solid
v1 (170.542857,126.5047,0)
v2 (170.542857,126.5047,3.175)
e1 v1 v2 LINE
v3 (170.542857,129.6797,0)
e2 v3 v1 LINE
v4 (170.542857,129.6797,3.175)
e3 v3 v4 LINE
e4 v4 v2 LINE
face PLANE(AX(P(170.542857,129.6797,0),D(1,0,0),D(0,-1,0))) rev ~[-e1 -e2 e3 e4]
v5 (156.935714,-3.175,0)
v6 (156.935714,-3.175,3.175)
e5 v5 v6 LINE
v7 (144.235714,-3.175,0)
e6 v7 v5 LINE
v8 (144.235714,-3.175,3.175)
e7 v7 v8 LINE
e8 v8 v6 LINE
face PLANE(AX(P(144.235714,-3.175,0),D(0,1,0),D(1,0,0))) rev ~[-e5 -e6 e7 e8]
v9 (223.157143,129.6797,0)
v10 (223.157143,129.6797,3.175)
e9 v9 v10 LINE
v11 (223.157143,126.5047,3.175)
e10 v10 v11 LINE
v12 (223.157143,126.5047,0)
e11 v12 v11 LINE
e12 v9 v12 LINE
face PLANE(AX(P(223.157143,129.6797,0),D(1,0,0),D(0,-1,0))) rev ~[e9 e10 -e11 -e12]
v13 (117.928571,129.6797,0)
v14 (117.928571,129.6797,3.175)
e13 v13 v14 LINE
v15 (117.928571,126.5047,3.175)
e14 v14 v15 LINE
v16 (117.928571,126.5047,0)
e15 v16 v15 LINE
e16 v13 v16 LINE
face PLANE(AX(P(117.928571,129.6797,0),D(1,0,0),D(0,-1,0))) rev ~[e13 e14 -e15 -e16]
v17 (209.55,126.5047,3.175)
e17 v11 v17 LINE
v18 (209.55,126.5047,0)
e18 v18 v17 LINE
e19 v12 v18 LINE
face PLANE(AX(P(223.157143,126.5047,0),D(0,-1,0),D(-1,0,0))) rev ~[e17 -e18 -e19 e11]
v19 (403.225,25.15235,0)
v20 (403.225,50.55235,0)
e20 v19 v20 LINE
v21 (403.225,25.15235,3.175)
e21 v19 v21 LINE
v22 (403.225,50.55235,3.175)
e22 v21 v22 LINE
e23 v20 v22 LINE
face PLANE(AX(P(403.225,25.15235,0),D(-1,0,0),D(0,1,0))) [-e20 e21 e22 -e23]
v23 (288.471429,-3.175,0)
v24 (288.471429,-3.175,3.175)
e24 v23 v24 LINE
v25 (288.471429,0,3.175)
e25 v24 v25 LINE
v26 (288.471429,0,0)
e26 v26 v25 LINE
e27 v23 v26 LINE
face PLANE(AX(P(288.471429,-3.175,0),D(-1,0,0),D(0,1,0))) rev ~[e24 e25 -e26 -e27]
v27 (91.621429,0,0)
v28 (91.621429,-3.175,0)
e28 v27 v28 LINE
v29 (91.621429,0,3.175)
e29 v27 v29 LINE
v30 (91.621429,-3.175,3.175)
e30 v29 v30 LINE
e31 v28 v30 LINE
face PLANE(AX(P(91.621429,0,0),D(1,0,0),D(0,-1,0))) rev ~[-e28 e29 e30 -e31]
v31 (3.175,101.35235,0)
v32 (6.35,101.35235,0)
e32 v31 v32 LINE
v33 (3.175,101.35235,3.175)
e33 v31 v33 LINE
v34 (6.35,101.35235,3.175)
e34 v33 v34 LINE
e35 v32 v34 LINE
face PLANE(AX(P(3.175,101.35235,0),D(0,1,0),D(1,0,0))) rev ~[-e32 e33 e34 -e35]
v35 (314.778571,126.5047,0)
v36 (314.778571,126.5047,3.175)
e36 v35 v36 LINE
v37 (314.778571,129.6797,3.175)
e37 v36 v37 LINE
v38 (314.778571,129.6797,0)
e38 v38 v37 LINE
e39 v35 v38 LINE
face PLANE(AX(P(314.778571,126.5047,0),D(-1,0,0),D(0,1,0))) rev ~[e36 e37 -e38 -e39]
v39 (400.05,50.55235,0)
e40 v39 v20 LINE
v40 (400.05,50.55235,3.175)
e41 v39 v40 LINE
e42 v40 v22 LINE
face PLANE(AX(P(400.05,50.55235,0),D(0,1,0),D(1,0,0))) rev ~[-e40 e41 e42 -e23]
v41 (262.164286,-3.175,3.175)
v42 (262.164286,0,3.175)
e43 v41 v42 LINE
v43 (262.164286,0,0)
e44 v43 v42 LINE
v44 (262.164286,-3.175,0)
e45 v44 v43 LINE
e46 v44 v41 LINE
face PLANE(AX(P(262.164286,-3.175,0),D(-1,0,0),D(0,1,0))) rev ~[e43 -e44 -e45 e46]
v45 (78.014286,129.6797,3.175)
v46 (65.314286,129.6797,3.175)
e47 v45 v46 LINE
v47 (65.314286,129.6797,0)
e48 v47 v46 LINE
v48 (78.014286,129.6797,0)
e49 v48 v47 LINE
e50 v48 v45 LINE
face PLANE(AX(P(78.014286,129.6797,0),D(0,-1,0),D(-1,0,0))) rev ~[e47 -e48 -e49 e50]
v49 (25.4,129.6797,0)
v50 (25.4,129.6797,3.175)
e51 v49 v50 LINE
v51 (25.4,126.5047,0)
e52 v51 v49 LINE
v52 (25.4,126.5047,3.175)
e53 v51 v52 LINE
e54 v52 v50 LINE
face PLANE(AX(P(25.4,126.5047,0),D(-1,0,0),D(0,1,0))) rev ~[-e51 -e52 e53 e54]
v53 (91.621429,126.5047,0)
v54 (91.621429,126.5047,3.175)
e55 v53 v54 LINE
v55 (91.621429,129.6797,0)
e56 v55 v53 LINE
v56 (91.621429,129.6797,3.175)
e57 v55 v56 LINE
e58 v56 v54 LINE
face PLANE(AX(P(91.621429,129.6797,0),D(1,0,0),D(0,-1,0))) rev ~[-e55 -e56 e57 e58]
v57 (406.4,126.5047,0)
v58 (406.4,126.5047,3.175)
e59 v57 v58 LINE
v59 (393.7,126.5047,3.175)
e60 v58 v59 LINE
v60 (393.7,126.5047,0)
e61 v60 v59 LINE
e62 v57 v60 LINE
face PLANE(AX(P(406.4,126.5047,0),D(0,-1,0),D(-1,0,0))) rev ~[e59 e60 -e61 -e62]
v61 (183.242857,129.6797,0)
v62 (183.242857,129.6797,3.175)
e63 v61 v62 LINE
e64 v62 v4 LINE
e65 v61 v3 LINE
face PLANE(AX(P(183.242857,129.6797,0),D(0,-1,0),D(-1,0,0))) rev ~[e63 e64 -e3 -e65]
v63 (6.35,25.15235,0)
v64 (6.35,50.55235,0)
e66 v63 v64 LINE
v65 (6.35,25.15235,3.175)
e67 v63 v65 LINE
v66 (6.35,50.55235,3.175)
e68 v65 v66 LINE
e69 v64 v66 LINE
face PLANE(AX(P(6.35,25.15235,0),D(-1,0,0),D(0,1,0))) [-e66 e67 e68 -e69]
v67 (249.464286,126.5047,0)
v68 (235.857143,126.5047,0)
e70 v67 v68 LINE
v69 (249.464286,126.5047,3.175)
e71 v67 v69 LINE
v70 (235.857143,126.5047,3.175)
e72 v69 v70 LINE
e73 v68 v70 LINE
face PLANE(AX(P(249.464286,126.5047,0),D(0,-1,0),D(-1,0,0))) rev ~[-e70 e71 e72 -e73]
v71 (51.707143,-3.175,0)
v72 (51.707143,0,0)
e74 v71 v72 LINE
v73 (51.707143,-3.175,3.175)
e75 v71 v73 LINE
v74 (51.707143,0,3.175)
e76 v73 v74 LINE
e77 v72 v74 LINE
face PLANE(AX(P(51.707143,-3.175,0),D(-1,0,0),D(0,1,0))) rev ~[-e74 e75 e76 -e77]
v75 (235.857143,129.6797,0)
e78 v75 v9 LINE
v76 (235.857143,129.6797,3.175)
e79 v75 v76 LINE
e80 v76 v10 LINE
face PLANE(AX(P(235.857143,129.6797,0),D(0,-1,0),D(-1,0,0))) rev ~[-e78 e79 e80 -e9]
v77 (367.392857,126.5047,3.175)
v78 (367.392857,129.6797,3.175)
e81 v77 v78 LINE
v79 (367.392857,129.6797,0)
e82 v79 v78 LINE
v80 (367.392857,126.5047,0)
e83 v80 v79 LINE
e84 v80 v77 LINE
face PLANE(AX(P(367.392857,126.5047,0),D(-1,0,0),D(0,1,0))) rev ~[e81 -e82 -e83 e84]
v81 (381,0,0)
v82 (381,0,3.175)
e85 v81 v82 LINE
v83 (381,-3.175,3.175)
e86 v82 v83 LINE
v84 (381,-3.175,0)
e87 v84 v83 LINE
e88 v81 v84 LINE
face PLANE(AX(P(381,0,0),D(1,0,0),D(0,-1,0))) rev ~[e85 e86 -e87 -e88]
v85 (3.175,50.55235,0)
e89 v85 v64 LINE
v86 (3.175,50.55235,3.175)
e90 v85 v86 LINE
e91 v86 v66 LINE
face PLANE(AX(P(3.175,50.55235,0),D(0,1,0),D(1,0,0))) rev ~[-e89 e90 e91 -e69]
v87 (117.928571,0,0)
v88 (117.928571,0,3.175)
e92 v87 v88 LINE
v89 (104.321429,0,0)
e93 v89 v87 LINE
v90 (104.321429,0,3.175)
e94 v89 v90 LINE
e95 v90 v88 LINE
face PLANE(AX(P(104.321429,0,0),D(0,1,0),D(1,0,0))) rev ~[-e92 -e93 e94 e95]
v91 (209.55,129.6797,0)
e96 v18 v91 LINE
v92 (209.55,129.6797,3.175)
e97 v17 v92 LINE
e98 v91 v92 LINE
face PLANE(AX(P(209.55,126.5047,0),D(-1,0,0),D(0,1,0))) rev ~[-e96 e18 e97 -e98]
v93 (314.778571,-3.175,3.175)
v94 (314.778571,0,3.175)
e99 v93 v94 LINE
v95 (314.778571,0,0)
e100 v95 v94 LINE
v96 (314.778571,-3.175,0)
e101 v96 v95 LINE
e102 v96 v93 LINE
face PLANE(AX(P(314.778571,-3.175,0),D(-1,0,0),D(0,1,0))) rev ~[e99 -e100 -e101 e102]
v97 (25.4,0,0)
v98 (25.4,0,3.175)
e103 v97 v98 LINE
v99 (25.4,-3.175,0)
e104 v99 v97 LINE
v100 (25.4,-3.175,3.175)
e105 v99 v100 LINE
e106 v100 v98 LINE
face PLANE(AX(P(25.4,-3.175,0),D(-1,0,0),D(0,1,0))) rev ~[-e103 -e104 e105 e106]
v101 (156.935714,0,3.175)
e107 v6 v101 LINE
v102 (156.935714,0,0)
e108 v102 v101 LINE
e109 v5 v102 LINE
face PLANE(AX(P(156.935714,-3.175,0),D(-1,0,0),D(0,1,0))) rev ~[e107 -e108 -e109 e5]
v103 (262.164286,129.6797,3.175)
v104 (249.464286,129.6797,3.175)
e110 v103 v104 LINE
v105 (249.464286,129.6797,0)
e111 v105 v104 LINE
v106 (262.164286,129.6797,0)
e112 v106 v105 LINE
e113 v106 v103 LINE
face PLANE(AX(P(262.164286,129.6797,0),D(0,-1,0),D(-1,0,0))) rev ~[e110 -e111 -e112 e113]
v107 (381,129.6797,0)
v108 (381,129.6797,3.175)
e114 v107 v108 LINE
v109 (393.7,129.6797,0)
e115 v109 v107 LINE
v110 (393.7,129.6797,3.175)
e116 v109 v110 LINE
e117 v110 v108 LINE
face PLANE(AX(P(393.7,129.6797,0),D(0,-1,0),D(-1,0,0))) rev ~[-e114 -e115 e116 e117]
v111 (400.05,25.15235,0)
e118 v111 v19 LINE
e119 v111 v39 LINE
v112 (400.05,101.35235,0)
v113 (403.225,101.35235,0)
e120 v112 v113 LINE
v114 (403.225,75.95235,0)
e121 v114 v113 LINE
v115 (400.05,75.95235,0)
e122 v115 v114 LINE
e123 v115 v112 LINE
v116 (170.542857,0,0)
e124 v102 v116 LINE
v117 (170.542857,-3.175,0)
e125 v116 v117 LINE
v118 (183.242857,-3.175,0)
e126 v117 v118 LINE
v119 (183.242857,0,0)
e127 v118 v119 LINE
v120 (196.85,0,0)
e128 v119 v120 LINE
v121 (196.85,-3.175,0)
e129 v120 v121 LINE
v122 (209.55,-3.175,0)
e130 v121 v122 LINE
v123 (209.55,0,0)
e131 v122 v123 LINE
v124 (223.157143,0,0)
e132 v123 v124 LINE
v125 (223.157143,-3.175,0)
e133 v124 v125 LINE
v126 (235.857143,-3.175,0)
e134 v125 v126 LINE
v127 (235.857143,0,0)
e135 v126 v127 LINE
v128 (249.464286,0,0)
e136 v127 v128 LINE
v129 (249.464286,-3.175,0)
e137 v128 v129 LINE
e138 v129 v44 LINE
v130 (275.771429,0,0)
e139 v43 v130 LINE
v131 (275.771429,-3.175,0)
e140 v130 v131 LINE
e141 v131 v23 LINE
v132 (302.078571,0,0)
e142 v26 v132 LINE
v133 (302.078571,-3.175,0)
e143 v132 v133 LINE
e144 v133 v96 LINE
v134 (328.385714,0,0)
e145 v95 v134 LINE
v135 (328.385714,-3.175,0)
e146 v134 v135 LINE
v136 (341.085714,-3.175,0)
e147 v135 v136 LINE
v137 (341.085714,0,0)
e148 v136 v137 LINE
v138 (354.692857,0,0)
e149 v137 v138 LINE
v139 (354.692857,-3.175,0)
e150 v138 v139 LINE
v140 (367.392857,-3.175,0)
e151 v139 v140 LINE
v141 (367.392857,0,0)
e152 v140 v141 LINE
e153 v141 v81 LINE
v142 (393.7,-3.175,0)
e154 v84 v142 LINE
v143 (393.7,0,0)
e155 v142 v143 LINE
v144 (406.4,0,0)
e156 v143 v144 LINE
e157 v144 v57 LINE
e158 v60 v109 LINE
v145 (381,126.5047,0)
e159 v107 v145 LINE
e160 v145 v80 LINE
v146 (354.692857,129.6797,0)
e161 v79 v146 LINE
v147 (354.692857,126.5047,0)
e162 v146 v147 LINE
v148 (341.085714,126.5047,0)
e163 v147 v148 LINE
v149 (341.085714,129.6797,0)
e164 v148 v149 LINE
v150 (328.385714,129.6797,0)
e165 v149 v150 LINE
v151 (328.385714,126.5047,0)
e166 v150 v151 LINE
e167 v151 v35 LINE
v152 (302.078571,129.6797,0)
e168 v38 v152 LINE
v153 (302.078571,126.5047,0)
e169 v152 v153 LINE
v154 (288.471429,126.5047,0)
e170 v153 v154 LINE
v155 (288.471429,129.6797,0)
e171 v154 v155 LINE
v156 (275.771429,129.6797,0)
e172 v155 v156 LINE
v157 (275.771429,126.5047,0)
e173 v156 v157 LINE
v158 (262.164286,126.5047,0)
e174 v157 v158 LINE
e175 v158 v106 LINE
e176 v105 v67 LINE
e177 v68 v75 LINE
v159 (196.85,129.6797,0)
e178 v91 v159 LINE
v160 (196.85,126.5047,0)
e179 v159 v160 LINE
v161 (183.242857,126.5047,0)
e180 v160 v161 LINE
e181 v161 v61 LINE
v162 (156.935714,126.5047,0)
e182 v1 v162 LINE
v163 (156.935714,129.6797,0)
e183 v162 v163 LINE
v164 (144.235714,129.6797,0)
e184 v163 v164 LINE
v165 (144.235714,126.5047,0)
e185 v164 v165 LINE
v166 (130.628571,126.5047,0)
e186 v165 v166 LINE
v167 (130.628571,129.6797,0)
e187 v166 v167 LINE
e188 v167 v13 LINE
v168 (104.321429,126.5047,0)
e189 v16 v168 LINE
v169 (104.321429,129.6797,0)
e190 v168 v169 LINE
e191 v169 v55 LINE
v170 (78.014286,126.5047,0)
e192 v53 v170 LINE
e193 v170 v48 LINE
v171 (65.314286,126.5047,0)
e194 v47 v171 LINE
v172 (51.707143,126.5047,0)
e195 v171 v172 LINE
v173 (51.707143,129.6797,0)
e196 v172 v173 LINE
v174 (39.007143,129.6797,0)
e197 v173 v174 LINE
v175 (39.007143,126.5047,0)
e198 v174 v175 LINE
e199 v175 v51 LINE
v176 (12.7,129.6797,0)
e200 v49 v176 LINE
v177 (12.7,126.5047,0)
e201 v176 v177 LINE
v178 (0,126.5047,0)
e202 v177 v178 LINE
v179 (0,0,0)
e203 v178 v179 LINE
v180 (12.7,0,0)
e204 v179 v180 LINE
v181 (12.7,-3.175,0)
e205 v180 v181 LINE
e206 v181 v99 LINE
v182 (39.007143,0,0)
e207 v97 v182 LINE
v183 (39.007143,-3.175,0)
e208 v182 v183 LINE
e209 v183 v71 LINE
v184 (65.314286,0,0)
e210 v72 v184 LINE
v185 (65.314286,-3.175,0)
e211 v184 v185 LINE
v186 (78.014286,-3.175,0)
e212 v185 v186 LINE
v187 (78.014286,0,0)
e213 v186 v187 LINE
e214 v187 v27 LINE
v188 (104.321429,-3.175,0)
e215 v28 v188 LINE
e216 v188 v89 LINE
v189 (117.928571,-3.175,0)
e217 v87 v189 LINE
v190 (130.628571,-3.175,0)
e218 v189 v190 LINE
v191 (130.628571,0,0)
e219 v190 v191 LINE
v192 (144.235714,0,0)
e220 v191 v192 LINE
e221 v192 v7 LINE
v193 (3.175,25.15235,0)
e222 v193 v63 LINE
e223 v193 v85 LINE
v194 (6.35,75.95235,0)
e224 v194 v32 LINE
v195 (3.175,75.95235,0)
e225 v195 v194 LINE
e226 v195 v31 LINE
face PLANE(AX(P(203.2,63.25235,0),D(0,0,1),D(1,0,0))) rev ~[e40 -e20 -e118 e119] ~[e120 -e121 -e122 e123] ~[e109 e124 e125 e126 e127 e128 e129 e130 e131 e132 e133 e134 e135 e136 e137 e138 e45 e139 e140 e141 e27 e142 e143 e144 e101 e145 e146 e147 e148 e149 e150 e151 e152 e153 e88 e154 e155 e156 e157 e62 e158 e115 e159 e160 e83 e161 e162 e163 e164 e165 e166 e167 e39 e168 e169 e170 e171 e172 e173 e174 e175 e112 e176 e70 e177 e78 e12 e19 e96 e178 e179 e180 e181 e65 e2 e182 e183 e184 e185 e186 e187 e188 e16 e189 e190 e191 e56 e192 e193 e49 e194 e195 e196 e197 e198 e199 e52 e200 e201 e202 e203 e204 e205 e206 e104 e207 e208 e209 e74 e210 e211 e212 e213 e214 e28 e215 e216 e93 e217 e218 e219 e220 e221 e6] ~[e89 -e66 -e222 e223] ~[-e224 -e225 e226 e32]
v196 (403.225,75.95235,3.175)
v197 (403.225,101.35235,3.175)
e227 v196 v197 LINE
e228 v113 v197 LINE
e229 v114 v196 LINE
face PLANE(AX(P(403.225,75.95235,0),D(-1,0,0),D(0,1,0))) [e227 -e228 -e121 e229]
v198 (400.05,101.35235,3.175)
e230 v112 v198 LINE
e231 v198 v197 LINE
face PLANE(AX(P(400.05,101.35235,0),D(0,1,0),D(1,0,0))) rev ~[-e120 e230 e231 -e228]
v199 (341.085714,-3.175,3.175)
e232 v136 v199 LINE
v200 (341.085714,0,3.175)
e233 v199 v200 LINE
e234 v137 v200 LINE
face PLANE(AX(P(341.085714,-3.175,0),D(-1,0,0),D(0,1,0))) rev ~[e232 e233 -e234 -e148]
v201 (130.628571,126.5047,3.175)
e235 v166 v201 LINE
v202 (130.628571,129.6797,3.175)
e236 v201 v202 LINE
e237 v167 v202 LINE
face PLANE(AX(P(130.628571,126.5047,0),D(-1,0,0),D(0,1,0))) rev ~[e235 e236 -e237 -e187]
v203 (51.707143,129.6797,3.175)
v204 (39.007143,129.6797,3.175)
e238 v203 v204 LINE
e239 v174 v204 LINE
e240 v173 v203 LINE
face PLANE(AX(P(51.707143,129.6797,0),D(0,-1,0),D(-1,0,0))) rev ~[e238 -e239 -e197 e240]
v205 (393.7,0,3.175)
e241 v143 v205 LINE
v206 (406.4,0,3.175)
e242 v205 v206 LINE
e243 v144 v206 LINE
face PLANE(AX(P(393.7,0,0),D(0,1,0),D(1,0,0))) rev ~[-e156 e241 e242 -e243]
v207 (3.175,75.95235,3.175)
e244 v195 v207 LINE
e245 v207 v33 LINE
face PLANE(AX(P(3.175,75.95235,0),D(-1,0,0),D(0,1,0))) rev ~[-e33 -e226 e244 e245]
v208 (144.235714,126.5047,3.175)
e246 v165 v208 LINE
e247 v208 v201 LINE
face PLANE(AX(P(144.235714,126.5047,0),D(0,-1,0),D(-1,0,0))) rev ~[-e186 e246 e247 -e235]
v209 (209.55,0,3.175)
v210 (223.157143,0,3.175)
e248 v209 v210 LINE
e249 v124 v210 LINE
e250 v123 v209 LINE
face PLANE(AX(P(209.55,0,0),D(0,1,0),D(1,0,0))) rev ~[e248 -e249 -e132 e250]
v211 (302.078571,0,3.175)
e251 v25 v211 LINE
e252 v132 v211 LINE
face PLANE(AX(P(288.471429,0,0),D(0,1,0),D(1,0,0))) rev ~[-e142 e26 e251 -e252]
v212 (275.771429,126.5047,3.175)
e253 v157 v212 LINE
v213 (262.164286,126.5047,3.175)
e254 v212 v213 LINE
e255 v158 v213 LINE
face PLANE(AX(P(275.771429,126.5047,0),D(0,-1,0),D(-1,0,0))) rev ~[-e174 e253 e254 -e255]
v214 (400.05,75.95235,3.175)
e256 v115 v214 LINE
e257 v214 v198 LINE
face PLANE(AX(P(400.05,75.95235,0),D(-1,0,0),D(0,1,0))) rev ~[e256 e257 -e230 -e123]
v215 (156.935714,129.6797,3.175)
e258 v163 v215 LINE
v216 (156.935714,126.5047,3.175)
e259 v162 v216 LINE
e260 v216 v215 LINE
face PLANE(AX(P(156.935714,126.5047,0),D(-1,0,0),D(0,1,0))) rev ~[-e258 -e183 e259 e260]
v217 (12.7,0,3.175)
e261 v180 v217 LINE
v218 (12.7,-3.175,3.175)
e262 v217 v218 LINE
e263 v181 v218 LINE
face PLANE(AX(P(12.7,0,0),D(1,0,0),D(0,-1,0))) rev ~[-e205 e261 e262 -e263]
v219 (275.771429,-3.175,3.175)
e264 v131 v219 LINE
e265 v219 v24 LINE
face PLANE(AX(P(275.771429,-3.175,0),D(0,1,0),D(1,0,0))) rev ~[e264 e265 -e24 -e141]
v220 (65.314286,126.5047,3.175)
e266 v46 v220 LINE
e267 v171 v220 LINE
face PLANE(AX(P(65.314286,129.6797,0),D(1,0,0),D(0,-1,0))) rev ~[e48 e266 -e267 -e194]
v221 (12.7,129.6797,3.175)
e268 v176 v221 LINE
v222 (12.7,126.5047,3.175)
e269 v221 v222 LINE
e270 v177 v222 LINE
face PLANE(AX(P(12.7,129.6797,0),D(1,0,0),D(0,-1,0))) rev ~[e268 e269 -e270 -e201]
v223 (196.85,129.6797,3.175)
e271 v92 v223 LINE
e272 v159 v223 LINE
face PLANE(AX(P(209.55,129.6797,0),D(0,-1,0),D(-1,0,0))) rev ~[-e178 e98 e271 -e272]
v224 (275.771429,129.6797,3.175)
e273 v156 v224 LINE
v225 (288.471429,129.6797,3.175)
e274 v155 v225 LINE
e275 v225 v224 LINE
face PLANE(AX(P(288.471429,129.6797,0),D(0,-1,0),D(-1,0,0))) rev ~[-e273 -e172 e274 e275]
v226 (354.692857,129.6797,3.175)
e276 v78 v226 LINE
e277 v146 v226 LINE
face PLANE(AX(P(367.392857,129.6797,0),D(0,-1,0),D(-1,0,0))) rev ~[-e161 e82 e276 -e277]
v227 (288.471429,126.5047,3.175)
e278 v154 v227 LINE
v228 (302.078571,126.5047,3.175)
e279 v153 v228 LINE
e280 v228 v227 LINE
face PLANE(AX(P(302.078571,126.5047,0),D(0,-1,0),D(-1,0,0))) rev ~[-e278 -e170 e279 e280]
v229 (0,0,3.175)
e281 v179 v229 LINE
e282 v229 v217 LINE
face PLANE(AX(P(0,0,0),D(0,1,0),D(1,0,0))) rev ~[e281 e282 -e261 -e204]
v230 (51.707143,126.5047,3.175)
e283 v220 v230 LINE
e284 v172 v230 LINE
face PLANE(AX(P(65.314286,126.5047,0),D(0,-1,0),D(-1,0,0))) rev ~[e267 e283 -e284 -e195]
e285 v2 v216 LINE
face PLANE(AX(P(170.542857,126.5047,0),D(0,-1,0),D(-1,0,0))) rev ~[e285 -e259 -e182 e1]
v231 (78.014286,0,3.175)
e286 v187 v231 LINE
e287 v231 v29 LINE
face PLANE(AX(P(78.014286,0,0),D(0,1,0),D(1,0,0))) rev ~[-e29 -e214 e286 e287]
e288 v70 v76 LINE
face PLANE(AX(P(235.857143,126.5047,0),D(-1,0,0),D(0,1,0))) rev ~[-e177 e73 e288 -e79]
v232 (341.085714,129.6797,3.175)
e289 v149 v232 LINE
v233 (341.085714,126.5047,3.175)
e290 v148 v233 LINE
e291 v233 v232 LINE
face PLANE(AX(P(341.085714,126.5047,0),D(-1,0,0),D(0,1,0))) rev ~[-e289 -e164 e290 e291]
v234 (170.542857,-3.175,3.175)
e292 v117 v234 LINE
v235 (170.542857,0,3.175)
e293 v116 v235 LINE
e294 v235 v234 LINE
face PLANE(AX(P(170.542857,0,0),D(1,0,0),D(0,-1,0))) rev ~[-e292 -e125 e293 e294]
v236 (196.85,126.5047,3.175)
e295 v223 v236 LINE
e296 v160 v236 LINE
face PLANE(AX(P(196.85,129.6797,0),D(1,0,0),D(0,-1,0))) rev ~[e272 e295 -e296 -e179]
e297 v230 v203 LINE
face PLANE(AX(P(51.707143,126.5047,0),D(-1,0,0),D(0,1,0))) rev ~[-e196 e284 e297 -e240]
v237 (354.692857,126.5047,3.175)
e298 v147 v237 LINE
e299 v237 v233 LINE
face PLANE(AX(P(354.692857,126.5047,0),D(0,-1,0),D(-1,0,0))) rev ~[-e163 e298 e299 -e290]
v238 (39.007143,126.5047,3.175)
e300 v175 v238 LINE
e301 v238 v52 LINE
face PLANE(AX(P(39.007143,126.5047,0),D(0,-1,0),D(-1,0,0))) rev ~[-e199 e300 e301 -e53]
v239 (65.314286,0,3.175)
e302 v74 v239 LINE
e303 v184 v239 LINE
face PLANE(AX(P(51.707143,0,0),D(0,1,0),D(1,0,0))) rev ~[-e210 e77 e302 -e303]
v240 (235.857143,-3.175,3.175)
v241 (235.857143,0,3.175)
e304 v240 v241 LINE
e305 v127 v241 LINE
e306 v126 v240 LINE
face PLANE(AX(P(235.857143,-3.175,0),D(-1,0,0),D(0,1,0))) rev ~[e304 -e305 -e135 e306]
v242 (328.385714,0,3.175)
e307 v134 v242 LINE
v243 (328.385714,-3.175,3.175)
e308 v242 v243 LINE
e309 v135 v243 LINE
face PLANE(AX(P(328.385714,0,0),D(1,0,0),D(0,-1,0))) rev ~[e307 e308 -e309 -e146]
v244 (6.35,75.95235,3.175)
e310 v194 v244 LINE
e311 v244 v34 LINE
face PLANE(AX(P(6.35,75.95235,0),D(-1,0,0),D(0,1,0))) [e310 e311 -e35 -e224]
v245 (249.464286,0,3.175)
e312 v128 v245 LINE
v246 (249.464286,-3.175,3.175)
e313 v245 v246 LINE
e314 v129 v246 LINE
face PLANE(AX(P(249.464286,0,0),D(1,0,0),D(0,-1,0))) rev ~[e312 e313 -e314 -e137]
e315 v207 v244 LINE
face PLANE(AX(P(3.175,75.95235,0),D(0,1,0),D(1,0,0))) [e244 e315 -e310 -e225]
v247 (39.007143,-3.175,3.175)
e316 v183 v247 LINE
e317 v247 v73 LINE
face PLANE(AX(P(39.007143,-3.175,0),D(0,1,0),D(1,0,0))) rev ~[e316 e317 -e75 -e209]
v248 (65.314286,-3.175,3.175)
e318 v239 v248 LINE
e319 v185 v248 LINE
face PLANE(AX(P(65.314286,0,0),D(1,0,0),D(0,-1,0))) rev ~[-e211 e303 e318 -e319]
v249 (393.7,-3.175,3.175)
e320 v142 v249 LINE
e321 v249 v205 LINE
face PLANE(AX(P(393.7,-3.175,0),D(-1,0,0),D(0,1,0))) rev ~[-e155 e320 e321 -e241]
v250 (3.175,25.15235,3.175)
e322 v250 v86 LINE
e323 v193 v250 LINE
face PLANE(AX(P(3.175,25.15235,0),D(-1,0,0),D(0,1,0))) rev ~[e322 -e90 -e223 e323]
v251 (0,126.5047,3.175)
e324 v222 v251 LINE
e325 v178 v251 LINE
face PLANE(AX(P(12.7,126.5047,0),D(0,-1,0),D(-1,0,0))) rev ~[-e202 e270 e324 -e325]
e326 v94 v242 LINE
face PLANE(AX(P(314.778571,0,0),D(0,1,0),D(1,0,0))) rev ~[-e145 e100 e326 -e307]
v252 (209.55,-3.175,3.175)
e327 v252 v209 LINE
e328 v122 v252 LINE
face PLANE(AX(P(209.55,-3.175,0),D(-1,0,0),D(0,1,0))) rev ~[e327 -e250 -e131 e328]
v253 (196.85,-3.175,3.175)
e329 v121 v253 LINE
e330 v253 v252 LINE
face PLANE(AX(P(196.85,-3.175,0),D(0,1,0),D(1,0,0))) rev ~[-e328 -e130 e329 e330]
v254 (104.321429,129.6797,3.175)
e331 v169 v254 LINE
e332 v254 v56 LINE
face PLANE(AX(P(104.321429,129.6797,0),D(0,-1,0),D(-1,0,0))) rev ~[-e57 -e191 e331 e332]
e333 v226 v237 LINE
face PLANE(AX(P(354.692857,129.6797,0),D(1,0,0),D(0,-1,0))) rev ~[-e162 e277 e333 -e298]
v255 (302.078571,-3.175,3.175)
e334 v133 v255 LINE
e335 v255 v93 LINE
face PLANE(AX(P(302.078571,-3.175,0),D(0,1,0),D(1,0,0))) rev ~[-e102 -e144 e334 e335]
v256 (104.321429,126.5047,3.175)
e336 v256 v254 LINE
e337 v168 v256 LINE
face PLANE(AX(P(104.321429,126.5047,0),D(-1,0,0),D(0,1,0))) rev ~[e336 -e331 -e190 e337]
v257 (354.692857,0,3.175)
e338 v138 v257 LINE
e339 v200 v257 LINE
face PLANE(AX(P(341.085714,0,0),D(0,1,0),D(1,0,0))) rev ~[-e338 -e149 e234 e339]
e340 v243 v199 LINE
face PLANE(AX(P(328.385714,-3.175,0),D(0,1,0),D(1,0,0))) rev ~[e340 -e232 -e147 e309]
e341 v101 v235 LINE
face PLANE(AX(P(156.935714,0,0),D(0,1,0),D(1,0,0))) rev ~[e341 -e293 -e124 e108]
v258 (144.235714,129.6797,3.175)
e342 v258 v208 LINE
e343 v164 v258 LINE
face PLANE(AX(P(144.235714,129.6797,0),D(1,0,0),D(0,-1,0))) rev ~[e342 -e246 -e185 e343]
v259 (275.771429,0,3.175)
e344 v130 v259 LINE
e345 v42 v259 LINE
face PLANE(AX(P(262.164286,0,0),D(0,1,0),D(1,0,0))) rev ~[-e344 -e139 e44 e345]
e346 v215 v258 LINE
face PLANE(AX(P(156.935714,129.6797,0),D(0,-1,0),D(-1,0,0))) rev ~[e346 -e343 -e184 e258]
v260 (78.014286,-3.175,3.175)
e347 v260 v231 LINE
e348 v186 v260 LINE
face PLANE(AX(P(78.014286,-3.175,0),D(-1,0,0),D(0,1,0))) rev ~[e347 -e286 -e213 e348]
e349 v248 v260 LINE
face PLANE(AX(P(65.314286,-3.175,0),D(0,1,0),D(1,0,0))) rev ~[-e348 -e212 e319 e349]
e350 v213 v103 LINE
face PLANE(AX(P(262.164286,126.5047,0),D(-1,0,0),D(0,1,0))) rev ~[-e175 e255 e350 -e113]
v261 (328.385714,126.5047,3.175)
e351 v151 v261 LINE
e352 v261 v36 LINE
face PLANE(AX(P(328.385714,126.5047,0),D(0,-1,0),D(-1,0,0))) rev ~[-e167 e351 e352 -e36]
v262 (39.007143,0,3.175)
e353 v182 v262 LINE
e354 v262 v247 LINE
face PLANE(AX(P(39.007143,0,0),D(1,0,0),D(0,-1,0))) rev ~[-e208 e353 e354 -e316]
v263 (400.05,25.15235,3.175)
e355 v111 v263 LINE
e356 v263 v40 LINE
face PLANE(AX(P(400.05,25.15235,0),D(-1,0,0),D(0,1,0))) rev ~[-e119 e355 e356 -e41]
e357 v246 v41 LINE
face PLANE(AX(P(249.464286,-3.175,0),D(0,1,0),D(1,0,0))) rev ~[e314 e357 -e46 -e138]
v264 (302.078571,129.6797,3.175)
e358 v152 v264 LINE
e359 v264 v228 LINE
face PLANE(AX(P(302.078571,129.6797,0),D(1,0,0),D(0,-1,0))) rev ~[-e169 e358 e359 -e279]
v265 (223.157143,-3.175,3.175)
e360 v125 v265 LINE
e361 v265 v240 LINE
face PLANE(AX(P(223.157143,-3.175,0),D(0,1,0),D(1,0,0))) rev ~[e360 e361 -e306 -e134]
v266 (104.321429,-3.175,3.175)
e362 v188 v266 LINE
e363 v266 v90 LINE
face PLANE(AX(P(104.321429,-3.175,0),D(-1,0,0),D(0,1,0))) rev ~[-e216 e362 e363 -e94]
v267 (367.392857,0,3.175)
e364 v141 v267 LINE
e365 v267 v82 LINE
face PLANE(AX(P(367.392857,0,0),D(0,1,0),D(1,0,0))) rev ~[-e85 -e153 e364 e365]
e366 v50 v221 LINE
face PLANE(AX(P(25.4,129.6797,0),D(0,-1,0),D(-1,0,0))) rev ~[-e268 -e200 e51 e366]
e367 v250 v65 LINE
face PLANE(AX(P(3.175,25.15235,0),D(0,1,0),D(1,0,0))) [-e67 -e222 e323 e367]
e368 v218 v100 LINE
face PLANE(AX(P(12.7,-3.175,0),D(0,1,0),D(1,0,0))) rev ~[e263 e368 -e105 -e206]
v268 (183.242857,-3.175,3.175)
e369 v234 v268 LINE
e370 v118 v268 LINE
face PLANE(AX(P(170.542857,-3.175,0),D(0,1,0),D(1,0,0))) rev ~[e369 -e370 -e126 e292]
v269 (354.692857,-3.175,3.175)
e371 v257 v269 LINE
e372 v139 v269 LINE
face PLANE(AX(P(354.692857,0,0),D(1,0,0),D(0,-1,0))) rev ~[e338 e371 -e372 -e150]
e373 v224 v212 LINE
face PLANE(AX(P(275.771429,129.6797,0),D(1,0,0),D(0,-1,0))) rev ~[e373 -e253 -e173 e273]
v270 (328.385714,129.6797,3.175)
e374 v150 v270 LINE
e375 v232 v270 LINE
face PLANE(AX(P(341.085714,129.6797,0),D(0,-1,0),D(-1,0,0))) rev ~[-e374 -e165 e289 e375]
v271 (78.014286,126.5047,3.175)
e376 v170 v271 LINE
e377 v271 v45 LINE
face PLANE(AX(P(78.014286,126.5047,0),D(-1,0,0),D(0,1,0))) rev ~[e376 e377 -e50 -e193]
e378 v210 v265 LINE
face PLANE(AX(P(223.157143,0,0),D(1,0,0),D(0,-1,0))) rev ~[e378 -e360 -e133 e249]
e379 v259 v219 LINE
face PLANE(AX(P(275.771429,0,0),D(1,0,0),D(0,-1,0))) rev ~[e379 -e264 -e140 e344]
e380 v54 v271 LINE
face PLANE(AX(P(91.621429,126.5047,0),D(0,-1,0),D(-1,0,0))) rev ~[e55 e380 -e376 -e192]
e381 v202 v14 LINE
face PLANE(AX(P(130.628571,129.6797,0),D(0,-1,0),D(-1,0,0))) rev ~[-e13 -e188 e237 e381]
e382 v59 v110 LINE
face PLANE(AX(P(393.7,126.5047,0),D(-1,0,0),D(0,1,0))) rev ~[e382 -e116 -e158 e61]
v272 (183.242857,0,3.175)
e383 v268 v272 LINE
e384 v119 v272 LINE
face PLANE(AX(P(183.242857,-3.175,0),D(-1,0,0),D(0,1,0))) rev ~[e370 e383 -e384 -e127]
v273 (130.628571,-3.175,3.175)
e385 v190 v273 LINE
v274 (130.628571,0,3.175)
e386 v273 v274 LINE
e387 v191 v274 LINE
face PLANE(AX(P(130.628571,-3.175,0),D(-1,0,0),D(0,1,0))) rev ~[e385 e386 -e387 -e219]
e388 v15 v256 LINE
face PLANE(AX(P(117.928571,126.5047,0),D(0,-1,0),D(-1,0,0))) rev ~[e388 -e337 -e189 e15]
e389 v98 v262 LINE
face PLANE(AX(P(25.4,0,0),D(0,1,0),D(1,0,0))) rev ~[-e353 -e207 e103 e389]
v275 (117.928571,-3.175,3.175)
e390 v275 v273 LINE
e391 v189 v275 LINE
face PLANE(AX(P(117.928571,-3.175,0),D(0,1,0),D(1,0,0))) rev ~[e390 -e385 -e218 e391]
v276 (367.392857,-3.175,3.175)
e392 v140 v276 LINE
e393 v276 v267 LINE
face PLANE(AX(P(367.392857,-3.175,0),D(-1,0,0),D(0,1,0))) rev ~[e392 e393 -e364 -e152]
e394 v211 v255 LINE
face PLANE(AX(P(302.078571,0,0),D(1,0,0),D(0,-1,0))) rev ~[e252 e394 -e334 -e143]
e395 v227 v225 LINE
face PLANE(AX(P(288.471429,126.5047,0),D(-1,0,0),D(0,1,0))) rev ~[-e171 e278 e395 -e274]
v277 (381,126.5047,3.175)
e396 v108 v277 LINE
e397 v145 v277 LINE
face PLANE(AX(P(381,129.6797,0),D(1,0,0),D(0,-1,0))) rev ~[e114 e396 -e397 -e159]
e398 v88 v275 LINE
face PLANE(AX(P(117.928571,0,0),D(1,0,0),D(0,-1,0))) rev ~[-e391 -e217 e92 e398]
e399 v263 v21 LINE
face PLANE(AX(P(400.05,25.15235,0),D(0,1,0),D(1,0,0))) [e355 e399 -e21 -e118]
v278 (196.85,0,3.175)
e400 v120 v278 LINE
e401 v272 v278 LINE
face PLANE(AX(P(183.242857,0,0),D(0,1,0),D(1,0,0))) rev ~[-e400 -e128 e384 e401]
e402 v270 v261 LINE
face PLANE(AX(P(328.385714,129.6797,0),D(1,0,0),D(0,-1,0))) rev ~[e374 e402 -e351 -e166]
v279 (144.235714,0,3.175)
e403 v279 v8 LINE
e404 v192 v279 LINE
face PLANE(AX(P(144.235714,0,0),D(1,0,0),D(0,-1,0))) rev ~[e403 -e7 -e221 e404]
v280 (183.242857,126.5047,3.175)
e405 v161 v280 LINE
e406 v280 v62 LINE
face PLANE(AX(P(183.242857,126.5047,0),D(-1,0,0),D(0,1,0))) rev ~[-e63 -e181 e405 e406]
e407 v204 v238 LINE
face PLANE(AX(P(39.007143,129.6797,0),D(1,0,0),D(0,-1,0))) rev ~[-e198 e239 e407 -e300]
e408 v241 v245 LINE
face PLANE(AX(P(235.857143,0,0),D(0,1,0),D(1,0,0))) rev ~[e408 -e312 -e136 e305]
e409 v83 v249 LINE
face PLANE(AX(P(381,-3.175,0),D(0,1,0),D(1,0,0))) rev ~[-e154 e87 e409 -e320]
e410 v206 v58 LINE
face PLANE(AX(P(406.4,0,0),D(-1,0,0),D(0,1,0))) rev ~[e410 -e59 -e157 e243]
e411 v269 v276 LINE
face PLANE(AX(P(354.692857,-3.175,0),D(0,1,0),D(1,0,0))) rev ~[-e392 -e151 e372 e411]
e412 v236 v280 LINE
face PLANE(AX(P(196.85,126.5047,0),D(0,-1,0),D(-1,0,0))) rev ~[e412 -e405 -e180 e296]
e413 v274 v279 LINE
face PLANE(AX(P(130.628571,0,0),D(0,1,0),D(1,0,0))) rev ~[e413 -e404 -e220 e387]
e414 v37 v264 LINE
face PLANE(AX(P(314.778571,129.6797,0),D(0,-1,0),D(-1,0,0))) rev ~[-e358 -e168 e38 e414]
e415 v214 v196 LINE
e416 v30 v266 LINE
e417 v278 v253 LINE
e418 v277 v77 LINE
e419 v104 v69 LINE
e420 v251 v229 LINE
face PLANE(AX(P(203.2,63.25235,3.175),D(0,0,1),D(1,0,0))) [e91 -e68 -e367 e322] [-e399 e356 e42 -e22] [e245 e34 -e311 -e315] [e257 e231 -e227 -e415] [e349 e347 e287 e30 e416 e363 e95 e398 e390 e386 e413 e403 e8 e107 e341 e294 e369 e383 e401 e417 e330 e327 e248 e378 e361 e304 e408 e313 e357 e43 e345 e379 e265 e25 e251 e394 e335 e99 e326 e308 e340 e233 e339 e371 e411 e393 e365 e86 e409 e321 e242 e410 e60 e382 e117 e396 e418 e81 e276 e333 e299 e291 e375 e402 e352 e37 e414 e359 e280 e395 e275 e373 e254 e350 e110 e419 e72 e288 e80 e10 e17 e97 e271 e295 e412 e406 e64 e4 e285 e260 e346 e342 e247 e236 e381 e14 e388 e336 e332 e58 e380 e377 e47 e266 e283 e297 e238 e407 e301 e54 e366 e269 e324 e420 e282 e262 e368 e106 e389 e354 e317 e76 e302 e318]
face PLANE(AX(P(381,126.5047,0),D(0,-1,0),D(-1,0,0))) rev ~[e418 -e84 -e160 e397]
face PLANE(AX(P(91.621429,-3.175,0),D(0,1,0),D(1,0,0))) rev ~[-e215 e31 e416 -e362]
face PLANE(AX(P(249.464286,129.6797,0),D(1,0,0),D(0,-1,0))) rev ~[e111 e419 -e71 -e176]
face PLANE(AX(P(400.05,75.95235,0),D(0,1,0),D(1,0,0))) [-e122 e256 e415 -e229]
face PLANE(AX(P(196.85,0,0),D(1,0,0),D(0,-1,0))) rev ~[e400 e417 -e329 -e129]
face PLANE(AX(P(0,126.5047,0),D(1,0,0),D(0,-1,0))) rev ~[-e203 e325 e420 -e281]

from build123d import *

# Parameters (mm, degrees)
SKETCH1_W           = 3.175
SKETCH1_H           = 25.4
BOSS_EXTRUDE1_DEPTH = 3.175


with BuildPart() as part:
    # Sketch1 → Boss-Extrude1 (new body)
    with BuildSketch(Plane.XY):
        Polygon((65.314285714, 126.5047), (65.214285714, 126.5047), (51.807142857, 126.5047), (51.707142857, 126.5047), (51.707142857, 129.6797), (39.007142857, 129.6797), (39.007142857, 126.5047), (38.907142857, 126.5047), (25.5, 126.5047), (25.4, 126.5047), (25.4, 129.6797), (12.7, 129.6797), (12.7, 126.5047), (12.6, 126.5047), (0, 126.5047), (0, 0), (12.6, 0), (12.7, 0), (12.7, -3.175), (25.4, -3.175), (25.4, 0), (25.5, 0), (38.907142857, 0), (39.007142857, 0), (39.007142857, -3.175), (51.707142857, -3.175), (51.707142857, 0), (51.807142857, 0), (65.214285714, 0), (65.314285714, 0), (65.314285714, -3.175), (78.014285714, -3.175), (78.014285714, 0), (78.114285714, 0), (91.521428571, 0), (91.621428571, 0), (91.621428571, -3.175), (104.321428571, -3.175), (104.321428571, 0), (104.421428571, 0), (117.828571429, 0), (117.928571429, 0), (117.928571429, -3.175), (130.628571429, -3.175), (130.628571429, 0), (130.728571429, 0), (144.135714286, 0), (144.235714286, 0), (144.235714286, -3.175), (156.935714286, -3.175), (156.935714286, 0), (157.035714286, 0), (170.442857143, 0), (170.542857143, 0), (170.542857143, -3.175), (183.242857143, -3.175), (183.242857143, 0), (183.342857143, 0), (196.75, 0), (196.85, 0), (196.85, -3.175), (209.55, -3.175), (209.55, 0), (209.65, 0), (223.057142857, 0), (223.157142857, 0), (223.157142857, -3.175), (235.857142857, -3.175), (235.857142857, 0), (235.957142857, 0), (249.364285714, 0), (249.464285714, 0), (249.464285714, -3.175), (262.164285714, -3.175), (262.164285714, 0), (262.264285714, 0), (275.671428571, 0), (275.771428571, 0), (275.771428571, -3.175), (288.471428571, -3.175), (288.471428571, 0), (288.571428571, 0), (301.978571429, 0), (302.078571429, 0), (302.078571429, -3.175), (314.778571429, -3.175), (314.778571429, 0), (314.878571429, 0), (328.285714286, 0), (328.385714286, 0), (328.385714286, -3.175), (341.085714286, -3.175), (341.085714286, 0), (341.185714286, 0), (354.592857143, 0), (354.692857143, 0), (354.692857143, -3.175), (367.392857143, -3.175), (367.392857143, 0), (367.492857143, 0), (380.9, 0), (381, 0), (381, -3.175), (393.7, -3.175), (393.7, 0), (393.8, 0), (406.4, 0), (406.4, 126.5047), (393.8, 126.5047), (393.7, 126.5047), (393.7, 129.6797), (381, 129.6797), (381, 126.5047), (380.9, 126.5047), (367.492857143, 126.5047), (367.392857143, 126.5047), (367.392857143, 129.6797), (354.692857143, 129.6797), (354.692857143, 126.5047), (354.592857143, 126.5047), (341.185714286, 126.5047), (341.085714286, 126.5047), (341.085714286, 129.6797), (328.385714286, 129.6797), (328.385714286, 126.5047), (328.285714286, 126.5047), (314.878571429, 126.5047), (314.778571429, 126.5047), (314.778571429, 129.6797), (302.078571429, 129.6797), (302.078571429, 126.5047), (301.978571429, 126.5047), (288.571428571, 126.5047), (288.471428571, 126.5047), (288.471428571, 129.6797), (275.771428571, 129.6797), (275.771428571, 126.5047), (275.671428571, 126.5047), (262.264285714, 126.5047), (262.164285714, 126.5047), (262.164285714, 129.6797), (249.464285714, 129.6797), (249.464285714, 126.5047), (249.364285714, 126.5047), (235.957142857, 126.5047), (235.857142857, 126.5047), (235.857142857, 129.6797), (223.157142857, 129.6797), (223.157142857, 126.5047), (223.057142857, 126.5047), (209.65, 126.5047), (209.55, 126.5047), (209.55, 129.6797), (196.85, 129.6797), (196.85, 126.5047), (196.75, 126.5047), (183.342857143, 126.5047), (183.242857143, 126.5047), (183.242857143, 129.6797), (170.542857143, 129.6797), (170.542857143, 126.5047), (170.442857143, 126.5047), (157.035714286, 126.5047), (156.935714286, 126.5047), (156.935714286, 129.6797), (144.235714286, 129.6797), (144.235714286, 126.5047), (144.135714286, 126.5047), (130.728571429, 126.5047), (130.628571429, 126.5047), (130.628571429, 129.6797), (117.928571429, 129.6797), (117.928571429, 126.5047), (117.828571429, 126.5047), (104.421428571, 126.5047), (104.321428571, 126.5047), (104.321428571, 129.6797), (91.621428571, 129.6797), (91.621428571, 126.5047), (91.521428571, 126.5047), (78.114285714, 126.5047), (78.014285714, 126.5047), (78.014285714, 129.6797), (65.314285714, 129.6797), align=None)
        with Locations((401.6375, 88.65235)):
            Rectangle(SKETCH1_W, SKETCH1_H, mode=Mode.SUBTRACT)
        with Locations((401.6375, 37.85235)):
            Rectangle(SKETCH1_W, SKETCH1_H, mode=Mode.SUBTRACT)
        with Locations((4.7625, 88.65235)):
            Rectangle(SKETCH1_W, SKETCH1_H, mode=Mode.SUBTRACT)
        with Locations((4.7625, 37.85235)):
            Rectangle(SKETCH1_W, SKETCH1_H, mode=Mode.SUBTRACT)
    extrude(amount=BOSS_EXTRUDE1_DEPTH)


solid = part.part
